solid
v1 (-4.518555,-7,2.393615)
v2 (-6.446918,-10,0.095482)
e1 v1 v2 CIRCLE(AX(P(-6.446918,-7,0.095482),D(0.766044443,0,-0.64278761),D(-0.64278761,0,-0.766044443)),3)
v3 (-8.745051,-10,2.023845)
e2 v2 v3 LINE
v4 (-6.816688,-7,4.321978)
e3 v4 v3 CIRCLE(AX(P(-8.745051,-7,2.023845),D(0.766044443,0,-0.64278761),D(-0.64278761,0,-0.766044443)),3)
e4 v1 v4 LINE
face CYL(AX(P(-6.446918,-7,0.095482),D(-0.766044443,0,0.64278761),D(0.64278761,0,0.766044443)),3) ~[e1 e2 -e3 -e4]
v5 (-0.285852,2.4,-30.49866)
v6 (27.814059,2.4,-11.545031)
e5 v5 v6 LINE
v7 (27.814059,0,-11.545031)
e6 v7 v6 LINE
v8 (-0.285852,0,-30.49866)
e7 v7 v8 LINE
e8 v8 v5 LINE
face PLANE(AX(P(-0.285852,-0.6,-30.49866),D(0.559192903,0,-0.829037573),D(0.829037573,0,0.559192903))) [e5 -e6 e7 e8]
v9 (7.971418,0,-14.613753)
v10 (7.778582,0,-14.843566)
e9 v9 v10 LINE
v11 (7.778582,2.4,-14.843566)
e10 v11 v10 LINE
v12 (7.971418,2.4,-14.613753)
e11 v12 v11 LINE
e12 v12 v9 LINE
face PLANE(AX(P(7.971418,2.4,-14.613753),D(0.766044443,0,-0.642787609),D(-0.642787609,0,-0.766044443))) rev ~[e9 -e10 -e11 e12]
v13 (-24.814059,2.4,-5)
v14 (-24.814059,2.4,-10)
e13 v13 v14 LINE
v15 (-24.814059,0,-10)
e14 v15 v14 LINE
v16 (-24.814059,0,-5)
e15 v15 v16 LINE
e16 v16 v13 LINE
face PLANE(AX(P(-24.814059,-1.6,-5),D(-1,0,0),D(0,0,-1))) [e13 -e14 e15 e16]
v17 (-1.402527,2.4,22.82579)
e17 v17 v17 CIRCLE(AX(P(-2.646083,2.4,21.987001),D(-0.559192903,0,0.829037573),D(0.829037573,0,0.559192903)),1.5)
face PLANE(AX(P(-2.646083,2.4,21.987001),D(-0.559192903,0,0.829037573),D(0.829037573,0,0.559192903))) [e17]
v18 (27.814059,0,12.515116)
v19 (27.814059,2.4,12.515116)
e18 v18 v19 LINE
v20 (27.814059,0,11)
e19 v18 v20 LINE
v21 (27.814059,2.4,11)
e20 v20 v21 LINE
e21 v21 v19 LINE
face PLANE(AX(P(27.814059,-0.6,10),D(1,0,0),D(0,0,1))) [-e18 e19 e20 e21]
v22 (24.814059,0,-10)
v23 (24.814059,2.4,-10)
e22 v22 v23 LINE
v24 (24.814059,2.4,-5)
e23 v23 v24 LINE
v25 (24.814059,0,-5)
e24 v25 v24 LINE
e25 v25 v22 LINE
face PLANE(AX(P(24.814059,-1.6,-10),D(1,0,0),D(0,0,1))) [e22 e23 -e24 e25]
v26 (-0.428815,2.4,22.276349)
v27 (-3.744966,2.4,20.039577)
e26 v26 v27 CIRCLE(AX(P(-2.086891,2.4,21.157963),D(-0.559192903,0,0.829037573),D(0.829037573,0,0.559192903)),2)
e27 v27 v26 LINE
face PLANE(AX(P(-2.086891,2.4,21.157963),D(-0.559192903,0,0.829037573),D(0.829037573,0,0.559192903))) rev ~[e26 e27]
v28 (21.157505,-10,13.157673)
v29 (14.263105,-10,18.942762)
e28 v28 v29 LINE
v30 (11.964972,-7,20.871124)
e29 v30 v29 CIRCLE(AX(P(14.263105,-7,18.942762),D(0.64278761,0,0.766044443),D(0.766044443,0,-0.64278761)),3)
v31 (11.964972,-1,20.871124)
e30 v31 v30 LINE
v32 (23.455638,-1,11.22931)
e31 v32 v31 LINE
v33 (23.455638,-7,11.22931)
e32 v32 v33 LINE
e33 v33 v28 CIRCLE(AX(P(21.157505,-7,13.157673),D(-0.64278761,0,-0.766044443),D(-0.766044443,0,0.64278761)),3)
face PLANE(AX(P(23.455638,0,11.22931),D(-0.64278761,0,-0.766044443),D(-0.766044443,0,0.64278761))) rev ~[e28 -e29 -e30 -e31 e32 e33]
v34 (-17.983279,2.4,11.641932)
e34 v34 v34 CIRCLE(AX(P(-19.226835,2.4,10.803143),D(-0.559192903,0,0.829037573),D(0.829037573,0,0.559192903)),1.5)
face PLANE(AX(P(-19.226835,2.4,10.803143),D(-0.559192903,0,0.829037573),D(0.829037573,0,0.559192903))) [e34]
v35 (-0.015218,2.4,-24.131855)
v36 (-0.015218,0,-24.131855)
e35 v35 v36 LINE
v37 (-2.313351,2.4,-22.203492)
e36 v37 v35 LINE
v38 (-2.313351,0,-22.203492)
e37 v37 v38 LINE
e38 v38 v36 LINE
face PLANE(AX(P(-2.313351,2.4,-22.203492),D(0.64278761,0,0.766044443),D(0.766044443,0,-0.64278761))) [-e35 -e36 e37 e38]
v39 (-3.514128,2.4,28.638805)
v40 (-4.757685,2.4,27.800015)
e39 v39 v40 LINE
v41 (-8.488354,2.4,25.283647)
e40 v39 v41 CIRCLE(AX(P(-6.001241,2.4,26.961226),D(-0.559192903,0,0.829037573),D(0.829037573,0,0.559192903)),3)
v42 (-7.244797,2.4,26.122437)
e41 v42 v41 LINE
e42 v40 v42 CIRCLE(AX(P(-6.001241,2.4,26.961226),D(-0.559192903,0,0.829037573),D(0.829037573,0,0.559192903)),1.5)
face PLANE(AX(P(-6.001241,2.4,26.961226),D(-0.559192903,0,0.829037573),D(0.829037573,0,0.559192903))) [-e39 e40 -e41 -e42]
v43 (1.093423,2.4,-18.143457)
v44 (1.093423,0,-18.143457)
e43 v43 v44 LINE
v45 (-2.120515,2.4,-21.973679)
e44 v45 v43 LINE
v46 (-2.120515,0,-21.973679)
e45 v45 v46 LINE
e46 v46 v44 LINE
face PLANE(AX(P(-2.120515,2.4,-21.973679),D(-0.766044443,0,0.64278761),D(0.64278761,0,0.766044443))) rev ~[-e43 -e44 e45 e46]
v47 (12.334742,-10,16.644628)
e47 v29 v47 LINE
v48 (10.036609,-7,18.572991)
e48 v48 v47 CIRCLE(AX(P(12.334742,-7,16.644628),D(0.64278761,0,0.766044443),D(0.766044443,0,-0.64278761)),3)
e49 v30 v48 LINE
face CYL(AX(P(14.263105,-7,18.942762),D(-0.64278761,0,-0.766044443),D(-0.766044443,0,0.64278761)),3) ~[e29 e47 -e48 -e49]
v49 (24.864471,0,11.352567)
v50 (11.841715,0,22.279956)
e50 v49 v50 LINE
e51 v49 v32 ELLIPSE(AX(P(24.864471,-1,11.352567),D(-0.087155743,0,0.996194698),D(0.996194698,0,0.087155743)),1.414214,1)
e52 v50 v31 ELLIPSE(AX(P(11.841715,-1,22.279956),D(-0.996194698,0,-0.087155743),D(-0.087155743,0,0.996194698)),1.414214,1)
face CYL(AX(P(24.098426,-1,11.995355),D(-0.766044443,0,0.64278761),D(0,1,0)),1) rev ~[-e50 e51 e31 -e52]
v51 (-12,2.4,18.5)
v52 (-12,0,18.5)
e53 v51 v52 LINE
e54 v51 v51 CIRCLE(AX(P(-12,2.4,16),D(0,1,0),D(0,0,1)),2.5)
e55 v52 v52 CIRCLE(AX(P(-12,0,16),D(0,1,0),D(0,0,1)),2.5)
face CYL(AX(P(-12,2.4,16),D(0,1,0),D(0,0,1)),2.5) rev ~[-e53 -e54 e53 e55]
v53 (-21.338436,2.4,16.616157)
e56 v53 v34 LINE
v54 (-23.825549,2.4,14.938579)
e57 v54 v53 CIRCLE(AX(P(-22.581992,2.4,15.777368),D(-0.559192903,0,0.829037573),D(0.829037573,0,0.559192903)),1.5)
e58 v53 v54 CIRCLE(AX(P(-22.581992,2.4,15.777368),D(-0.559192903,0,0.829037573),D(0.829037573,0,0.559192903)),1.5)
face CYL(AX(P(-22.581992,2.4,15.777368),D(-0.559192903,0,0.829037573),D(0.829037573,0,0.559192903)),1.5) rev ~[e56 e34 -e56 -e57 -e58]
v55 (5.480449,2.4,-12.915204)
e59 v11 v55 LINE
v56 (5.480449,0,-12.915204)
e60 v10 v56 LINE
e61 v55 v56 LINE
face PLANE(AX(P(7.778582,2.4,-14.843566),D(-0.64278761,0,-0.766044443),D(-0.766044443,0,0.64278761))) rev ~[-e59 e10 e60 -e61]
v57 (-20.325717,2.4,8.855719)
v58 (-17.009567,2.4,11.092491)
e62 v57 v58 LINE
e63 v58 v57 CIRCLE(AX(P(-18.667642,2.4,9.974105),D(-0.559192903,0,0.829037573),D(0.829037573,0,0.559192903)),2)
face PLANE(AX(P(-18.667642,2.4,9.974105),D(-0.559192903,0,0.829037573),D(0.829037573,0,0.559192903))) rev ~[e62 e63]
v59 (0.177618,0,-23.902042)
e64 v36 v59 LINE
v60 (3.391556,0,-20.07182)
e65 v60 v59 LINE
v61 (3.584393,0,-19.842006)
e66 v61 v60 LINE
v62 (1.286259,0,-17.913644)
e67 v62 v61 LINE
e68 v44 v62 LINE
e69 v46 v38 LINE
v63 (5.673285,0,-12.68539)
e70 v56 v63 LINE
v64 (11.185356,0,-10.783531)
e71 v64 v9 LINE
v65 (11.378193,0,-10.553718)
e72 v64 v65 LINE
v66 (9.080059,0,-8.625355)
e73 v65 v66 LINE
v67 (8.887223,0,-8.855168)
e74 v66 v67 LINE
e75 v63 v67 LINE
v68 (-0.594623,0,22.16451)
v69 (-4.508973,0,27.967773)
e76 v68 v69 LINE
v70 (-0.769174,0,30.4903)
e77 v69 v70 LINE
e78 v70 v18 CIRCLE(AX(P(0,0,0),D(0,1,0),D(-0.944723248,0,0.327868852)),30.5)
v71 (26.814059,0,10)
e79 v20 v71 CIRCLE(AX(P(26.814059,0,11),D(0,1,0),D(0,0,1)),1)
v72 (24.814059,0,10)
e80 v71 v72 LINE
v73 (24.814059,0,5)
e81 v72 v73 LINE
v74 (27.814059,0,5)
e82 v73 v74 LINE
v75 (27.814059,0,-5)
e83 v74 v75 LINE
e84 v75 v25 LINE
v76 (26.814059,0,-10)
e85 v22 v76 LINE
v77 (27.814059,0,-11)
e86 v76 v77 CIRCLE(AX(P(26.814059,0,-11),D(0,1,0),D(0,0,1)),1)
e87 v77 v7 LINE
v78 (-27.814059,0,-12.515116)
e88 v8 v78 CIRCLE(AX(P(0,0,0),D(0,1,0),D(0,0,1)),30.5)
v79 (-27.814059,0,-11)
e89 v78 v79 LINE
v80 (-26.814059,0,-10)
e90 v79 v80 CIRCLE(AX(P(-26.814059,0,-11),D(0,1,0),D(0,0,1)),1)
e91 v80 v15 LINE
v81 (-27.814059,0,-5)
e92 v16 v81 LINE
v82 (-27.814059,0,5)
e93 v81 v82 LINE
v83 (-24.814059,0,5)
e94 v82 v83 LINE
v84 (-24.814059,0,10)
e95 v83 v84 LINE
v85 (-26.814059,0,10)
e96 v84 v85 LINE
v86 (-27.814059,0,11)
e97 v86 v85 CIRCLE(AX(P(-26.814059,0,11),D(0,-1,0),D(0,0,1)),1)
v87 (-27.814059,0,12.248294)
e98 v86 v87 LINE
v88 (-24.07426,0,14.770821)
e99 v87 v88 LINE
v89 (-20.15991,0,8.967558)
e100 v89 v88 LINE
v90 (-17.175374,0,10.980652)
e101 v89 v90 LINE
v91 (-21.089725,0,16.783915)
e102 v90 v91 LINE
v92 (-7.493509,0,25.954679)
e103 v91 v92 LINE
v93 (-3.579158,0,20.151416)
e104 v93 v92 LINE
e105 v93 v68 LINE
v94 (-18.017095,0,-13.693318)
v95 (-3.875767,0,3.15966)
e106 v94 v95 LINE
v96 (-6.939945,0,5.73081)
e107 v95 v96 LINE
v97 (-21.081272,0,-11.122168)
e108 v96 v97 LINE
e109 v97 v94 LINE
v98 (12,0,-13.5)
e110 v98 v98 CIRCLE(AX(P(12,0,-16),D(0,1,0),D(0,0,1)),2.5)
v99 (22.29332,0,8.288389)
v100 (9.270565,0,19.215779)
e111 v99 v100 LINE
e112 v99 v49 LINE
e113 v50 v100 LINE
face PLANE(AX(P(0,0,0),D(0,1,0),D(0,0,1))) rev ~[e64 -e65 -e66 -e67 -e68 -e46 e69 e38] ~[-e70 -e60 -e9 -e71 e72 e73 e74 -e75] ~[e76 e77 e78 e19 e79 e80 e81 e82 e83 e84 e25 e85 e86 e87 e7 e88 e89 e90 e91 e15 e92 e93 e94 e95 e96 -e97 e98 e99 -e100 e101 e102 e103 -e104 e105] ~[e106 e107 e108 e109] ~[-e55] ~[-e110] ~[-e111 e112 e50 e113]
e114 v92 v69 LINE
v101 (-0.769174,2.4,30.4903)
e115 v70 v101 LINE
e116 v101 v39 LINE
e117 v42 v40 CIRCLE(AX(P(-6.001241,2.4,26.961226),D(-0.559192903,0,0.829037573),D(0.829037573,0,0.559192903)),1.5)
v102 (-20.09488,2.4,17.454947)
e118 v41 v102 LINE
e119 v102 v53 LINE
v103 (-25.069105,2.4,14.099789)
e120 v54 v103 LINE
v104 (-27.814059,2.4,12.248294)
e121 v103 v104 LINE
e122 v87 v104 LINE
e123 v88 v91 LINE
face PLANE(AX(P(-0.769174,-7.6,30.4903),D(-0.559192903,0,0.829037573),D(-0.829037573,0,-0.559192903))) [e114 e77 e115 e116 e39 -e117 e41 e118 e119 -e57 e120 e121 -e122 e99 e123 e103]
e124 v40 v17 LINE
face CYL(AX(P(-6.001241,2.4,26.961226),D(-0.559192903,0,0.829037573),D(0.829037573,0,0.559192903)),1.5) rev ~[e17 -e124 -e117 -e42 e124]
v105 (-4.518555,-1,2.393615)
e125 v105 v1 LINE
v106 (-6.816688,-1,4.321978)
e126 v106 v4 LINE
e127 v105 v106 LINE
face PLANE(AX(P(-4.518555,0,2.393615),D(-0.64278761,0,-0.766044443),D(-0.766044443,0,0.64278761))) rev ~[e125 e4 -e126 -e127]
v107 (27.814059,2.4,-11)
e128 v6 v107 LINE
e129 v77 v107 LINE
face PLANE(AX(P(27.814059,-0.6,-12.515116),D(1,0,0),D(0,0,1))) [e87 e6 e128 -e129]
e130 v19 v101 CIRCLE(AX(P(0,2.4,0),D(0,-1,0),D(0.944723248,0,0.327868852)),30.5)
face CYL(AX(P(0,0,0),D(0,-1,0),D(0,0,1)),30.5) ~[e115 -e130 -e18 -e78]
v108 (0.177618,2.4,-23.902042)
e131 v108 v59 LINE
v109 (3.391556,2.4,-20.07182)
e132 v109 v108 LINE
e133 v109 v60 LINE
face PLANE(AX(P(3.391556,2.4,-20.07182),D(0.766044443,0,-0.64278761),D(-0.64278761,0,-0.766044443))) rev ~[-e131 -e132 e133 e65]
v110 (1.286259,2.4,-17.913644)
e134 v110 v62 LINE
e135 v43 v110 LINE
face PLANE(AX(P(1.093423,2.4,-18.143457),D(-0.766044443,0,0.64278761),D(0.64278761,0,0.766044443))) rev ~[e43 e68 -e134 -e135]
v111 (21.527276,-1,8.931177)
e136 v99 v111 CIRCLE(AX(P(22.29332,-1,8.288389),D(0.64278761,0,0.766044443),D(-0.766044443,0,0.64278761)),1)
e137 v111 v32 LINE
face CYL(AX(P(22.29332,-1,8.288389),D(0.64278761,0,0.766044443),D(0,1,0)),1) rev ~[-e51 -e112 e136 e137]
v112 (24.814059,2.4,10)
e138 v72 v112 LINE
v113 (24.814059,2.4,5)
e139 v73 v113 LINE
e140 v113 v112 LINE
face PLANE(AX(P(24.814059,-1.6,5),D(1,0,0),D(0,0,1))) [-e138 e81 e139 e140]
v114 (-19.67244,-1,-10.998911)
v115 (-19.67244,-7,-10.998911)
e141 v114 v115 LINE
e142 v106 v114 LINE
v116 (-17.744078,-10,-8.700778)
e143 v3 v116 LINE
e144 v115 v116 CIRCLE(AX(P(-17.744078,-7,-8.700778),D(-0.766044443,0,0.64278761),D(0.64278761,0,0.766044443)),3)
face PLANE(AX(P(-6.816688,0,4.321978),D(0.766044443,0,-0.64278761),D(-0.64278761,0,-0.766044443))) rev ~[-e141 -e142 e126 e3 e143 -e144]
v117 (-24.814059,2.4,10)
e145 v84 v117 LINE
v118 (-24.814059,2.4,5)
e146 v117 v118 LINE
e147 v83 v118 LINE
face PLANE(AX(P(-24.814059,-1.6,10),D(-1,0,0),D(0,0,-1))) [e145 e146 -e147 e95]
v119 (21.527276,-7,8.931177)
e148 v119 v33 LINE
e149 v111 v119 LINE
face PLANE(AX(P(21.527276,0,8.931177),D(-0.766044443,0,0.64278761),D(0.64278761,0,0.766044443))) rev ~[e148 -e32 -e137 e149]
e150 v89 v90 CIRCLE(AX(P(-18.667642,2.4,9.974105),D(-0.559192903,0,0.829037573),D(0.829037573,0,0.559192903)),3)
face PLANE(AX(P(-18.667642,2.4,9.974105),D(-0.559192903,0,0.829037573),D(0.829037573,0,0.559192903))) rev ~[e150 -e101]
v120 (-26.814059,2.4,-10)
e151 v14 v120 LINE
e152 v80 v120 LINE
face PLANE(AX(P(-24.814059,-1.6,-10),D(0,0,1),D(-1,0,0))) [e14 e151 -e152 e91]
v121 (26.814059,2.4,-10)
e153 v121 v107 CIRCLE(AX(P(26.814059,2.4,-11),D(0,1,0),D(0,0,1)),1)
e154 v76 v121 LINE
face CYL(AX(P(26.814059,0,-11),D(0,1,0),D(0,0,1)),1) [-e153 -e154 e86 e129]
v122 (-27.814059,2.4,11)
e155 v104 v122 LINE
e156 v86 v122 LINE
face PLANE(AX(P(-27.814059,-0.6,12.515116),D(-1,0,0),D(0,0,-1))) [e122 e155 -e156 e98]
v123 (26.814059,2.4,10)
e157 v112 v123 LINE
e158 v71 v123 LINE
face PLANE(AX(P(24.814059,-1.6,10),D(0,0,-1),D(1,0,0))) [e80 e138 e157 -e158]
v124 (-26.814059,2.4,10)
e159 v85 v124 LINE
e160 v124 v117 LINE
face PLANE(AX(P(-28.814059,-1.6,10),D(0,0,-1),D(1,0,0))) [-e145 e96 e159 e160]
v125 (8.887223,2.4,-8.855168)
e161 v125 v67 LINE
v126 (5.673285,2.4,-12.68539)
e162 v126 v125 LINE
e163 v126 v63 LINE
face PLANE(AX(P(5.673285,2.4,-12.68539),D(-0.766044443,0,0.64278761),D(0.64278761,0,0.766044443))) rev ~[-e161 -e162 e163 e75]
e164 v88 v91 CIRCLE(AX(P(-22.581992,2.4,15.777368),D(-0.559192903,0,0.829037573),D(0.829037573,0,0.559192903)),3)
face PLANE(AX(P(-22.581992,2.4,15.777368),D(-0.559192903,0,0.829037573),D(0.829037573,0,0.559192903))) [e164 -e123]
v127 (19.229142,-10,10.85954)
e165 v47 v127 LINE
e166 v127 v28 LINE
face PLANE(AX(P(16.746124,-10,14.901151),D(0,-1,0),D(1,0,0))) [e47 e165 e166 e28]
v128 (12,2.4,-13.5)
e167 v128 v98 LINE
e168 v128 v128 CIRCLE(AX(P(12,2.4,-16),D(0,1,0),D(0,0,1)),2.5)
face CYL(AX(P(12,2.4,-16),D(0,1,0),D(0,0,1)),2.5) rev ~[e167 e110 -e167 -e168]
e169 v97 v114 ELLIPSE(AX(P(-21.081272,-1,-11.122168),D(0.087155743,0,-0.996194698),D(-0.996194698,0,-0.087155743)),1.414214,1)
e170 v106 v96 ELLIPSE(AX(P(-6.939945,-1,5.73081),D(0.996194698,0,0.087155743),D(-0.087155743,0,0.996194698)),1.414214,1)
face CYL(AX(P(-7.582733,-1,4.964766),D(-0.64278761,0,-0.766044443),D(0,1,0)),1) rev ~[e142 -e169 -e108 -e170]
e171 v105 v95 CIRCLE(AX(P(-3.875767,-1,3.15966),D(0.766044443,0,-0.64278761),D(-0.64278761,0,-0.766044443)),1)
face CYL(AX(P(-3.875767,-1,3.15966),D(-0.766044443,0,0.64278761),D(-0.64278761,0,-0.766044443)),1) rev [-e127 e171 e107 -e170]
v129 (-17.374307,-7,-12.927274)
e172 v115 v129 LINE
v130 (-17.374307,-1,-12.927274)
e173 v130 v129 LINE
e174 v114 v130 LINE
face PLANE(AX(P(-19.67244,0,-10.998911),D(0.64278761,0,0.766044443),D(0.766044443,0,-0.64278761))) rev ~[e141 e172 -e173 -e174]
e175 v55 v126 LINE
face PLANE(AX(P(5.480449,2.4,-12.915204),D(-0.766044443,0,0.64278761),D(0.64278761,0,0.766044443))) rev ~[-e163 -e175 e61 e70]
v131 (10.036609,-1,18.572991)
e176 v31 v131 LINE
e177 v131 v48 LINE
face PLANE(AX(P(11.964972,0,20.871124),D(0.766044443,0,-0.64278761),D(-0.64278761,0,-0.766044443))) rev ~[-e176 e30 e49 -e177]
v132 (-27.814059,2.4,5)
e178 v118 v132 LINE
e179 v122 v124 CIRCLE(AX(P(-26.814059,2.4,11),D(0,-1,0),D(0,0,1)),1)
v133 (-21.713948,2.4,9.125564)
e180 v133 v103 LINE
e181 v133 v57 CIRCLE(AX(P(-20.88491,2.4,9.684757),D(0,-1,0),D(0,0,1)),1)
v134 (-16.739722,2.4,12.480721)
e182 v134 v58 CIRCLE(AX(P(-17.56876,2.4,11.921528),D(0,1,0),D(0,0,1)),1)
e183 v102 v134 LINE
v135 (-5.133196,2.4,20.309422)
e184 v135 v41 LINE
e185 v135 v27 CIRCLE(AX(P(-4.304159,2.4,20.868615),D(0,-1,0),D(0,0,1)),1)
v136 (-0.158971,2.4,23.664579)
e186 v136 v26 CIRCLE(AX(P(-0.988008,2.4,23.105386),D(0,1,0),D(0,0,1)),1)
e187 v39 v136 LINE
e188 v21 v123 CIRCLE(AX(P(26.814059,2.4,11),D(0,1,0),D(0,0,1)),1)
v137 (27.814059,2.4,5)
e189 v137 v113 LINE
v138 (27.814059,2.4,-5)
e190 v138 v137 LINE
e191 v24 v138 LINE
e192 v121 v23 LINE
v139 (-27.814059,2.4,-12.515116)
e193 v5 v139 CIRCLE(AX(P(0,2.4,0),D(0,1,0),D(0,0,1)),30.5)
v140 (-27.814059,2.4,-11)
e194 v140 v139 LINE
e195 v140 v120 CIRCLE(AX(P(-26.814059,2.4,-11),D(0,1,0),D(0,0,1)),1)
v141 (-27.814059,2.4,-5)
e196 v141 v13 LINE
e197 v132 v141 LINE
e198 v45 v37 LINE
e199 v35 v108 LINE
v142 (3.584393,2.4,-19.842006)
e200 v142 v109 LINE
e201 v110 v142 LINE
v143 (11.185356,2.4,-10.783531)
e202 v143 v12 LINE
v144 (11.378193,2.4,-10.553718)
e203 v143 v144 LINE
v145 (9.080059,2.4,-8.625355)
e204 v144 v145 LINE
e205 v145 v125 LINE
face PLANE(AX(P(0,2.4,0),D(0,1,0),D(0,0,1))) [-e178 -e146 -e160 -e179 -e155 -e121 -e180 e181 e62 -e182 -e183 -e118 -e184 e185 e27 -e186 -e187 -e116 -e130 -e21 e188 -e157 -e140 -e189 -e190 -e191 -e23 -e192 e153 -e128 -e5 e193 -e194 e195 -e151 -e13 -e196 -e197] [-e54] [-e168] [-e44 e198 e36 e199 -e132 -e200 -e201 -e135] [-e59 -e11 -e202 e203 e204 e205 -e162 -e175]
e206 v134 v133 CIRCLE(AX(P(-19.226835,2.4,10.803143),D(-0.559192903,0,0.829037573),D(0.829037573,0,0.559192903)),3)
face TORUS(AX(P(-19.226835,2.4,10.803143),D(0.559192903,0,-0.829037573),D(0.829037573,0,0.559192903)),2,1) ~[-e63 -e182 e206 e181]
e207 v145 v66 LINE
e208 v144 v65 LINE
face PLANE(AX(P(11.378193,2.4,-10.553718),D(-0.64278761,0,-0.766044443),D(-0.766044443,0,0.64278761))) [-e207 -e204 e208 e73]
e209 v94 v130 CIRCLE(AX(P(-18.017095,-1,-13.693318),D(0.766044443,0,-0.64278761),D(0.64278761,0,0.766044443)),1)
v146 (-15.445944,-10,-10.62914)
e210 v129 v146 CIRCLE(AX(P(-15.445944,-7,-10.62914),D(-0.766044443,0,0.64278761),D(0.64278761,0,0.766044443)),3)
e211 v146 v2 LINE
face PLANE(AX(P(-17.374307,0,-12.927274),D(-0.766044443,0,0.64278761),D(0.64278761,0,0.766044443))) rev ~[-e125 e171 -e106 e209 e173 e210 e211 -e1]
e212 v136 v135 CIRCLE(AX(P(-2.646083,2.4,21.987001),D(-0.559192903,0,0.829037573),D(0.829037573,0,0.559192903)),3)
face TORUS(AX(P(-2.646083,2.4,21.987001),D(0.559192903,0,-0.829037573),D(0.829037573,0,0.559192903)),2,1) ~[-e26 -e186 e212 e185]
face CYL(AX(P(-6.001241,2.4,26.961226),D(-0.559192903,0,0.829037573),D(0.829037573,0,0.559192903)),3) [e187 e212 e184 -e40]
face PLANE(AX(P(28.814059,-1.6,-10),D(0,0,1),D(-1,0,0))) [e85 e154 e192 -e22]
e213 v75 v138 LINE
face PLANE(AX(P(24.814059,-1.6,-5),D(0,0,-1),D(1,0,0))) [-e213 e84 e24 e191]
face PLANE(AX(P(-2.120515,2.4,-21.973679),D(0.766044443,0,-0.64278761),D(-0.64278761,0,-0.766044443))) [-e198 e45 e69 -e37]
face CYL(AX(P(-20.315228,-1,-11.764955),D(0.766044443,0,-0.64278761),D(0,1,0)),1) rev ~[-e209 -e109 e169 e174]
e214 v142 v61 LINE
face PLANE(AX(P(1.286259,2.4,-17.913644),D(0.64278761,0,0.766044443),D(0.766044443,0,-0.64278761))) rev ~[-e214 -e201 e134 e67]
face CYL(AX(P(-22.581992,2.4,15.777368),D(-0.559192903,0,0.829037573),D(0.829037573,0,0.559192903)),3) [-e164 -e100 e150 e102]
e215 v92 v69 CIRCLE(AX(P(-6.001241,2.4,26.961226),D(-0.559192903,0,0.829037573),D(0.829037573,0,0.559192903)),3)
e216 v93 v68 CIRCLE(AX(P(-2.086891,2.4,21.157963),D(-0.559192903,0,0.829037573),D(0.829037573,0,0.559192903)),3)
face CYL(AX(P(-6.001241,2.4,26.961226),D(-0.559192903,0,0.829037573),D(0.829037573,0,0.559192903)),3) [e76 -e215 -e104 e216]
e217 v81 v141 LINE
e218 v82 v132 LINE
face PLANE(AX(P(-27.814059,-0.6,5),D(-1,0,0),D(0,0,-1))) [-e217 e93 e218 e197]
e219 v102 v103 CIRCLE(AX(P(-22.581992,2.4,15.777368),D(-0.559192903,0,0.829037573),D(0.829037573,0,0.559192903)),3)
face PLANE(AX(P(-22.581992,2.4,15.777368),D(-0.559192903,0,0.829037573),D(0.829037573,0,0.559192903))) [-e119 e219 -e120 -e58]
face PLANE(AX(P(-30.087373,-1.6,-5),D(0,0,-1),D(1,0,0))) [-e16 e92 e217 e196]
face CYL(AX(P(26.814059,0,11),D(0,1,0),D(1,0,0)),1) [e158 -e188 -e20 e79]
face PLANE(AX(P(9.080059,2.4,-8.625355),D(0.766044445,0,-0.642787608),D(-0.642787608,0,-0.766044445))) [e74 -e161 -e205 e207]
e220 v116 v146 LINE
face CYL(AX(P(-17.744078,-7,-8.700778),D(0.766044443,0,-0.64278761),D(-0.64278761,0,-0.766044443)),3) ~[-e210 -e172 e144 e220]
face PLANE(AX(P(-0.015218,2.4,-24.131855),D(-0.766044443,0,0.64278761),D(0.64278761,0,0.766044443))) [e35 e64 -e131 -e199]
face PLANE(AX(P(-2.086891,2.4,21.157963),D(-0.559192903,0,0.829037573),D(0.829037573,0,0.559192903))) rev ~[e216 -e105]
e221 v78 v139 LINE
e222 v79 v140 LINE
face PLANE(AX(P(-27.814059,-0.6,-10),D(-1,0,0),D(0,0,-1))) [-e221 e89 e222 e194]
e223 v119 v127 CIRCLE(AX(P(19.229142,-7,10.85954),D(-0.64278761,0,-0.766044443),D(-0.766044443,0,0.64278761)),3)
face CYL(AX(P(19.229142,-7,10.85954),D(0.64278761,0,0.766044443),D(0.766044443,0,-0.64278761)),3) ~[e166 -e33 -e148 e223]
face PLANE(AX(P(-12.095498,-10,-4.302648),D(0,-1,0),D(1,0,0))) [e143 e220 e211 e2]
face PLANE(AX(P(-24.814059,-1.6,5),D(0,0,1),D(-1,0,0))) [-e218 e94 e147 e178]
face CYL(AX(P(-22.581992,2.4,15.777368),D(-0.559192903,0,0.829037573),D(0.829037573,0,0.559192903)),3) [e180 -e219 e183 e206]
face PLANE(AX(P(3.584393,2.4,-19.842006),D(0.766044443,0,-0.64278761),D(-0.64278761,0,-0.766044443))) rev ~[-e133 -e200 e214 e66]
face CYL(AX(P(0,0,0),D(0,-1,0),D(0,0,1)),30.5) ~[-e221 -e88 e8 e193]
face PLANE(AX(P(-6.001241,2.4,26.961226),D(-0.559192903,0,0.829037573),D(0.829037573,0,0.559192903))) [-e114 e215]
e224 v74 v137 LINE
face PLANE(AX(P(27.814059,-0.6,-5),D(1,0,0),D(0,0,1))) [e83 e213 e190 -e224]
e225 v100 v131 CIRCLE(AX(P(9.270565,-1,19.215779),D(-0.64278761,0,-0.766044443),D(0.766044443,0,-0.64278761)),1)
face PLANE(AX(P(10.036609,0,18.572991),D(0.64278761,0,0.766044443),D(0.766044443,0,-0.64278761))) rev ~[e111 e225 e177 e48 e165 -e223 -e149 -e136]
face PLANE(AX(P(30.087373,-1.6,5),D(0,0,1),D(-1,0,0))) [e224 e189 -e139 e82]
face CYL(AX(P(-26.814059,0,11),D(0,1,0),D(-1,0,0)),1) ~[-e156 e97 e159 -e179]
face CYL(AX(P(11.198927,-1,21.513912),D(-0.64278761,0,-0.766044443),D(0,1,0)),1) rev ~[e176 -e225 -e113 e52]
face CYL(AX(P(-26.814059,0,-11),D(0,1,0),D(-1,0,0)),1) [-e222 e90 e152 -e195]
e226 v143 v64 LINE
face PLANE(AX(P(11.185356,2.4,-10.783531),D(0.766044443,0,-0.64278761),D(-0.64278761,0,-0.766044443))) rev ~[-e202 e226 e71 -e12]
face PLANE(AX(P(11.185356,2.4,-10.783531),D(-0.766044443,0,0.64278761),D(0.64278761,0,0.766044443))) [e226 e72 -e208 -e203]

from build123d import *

# Parameters (mm, degrees)
CROQUIS1_R              = 30.5
SALIENTE_EXTRUIR1_DEPTH = 2.4
CORTAR_EXTRUIR3_START   = -4
CORTAR_EXTRUIR3_DEPTH   = 4
CORTAR_EXTRUIR6_DEPTH   = 10
CROQUIS10_R             = 2.5
CORTAR_EXTRUIR7_DEPTH   = 10
CORTAR_EXTRUIR8_START   = -3
CORTAR_EXTRUIR8_DEPTH   = 3
SALIENTE_EXTRUIR2_DEPTH = 10
REDONDEO1_R             = 3
REDONDEO2_R             = 1
CORTAR_EXTRUIR9_START   = -3
CORTAR_EXTRUIR9_DEPTH   = 3
CORTAR_EXTRUIR10_START  = -10
CORTAR_EXTRUIR10_DEPTH  = 10
CROQUIS19_R             = 3
SALIENTE_EXTRUIR5_DEPTH = 7
CROQUIS20_R             = 1.5
CORTAR_EXTRUIR12_DEPTH  = 6
REDONDEO3_R             = 1
REDONDEO4_R             = 1
CORTAR_EXTRUIR13_DEPTH  = 3


with BuildPart() as part:
    # Croquis1 → Saliente-Extruir1 (new body)
    with BuildSketch(Plane(origin=(0, 0, 0), x_dir=(1, 0, 0), z_dir=(0, 1, 0))):
        with Locations(Location((0, 0, 0), (0, 0, 270))):
            Circle(CROQUIS1_R)
    extrude(amount=SALIENTE_EXTRUIR1_DEPTH)

    # Croquis5 → Cortar-Extruir3 (cut)
    with BuildSketch(Plane(origin=(0, 2.4, 0), x_dir=(1, 0, 0), z_dir=(0, 1, 0)).offset(CORTAR_EXTRUIR3_START)):
        with BuildLine():
            Line((28.814059068, 5), (30.087372767, 5))
            ThreePointArc((30.087372767, 5), (29.556634924, 7.526973624), (28.814059068, 10))
            Line((28.814059068, 10), (24.814059068, 10))
            Line((24.814059068, 10), (24.814059068, 5))
            Line((24.814059068, 5), (28.814059068, 5))
        make_face()
        with BuildLine():
            Line((30.087372767, -5), (28.814059068, -5))
            Line((28.814059068, -5), (24.814059068, -5))
            Line((24.814059068, -5), (24.814059068, -10))
            Line((24.814059068, -10), (28.814059068, -10))
            ThreePointArc((28.814059068, -10), (29.556634924, -7.526973624), (30.087372767, -5))
        make_face()
        with BuildLine():
            Line((-24.814059068, 5), (-24.814059068, 10))
            Line((-24.814059068, 10), (-28.814059068, 10))
            ThreePointArc((-28.814059068, 10), (-29.556634924, 7.526973624), (-30.087372767, 5))
            Line((-30.087372767, 5), (-28.814059068, 5))
            Line((-28.814059068, 5), (-24.814059068, 5))
        make_face()
        with BuildLine():
            Line((-28.814059068, -10), (-24.814059068, -10))
            Line((-24.814059068, -10), (-24.814059068, -5))
            Line((-24.814059068, -5), (-28.814059068, -5))
            Line((-28.814059068, -5), (-30.087372767, -5))
            ThreePointArc((-30.087372767, -5), (-29.556634924, -7.526973624), (-28.814059068, -10))
        make_face()
    extrude(amount=CORTAR_EXTRUIR3_DEPTH, mode=Mode.SUBTRACT)

    # Croquis9 → Cortar-Extruir6 (cut)
    with BuildSketch(Plane(origin=(0, 2.4, 0), x_dir=(1, 0, 0), z_dir=(0, 1, 0))):
        Polygon((5.673284852, 12.685390231), (8.887222901, 8.855168016), (11.18535623, 10.783530845), (7.971418181, 14.613753061), align=None)
        Polygon((-2.120514915, 21.973679104), (1.093423133, 18.143456889), (3.391556462, 20.071819718), (0.177618414, 23.902041933), align=None)
    extrude(amount=-CORTAR_EXTRUIR6_DEPTH, mode=Mode.SUBTRACT)

    # Croquis10 → Cortar-Extruir7 (cut)
    with BuildSketch(Plane(origin=(0, 2.4, 0), x_dir=(1, 0, 0), z_dir=(0, 1, 0))):
        with Locations(Location((12, 16, 0), (0, 0, 270))):
            Circle(CROQUIS10_R)
        with Locations(Location((-12, -16, 0), (0, 0, 270))):
            Circle(CROQUIS10_R)
    extrude(amount=-CORTAR_EXTRUIR7_DEPTH, mode=Mode.SUBTRACT)

    # Croquis11 → Cortar-Extruir8 (cut)
    with BuildSketch(Plane(origin=(0, 2.4, 0), x_dir=(1, 0, 0), z_dir=(0, 1, 0)).offset(CORTAR_EXTRUIR8_START)):
        with BuildLine():
            ThreePointArc((-28.814059068, -10), (-28.341972277, -11.268655974), (-27.814059068, -12.515115586))
            Line((-27.814059068, -12.515115586), (-27.814059068, -10))
            Line((-27.814059068, -10), (-28.814059068, -10))
        make_face()
        with BuildLine():
            Line((-27.814059068, -5), (-27.814059068, 5))
            Line((-27.814059068, 5), (-30.087372767, 5))
            ThreePointArc((-30.087372767, 5), (-30.5, 0), (-30.087372767, -5))
            Line((-30.087372767, -5), (-27.814059068, -5))
        make_face()
        with BuildLine():
            Line((-27.814059068, 10), (-27.814059068, 12.515115586))
            ThreePointArc((-27.814059068, 12.515115586), (-28.341972277, 11.268655974), (-28.814059068, 10))
            Line((-28.814059068, 10), (-27.814059068, 10))
        make_face()
        with BuildLine():
            Line((28.814059068, -10), (27.814059068, -10))
            Line((27.814059068, -10), (27.814059068, -12.515115586))
            ThreePointArc((27.814059068, -12.515115586), (28.341972277, -11.268655974), (28.814059068, -10))
        make_face()
        with BuildLine():
            Line((30.087372767, 5), (27.814059068, 5))
            Line((27.814059068, 5), (27.814059068, -5))
            Line((27.814059068, -5), (30.087372767, -5))
            ThreePointArc((30.087372767, -5), (30.5, 0), (30.087372767, 5))
        make_face()
        with BuildLine():
            Line((27.814059068, 12.515115586), (27.814059068, 10))
            Line((27.814059068, 10), (28.814059068, 10))
            ThreePointArc((28.814059068, 10), (28.341972277, 11.268655974), (27.814059068, 12.515115586))
        make_face()
    extrude(amount=CORTAR_EXTRUIR8_DEPTH, mode=Mode.SUBTRACT)

    # Croquis13 → Saliente-Extruir2 (add)
    with BuildSketch(Plane.XZ):
        Polygon((-6.816688183, 4.321977983), (-19.672440377, -10.99891088), (-17.374307048, -12.927273709), (-4.518554854, 2.393615154), align=None)
        Polygon((21.527275636, 8.931176939), (23.455638465, 11.229310268), (11.964971818, 20.871124414), (10.036608989, 18.572991084), align=None)
    extrude(amount=SALIENTE_EXTRUIR2_DEPTH)

    # Redondeo1
    redondeo1_edges = [part.edges().sort_by_distance(p)[0] for p in [
        (-5.667621519, -10, 3.357796568),
        (-18.523373712, -10, -11.963092294),
        (22.49145705, -10, 10.080243604),
        (11.000790403, -10, 19.722057749),
    ]]
    fillet(redondeo1_edges, radius=REDONDEO1_R)

    # Redondeo2
    redondeo2_edges = [part.edges().sort_by_distance(p)[0] for p in [
        (-5.667621519, 0, 3.357796568),
        (-13.24456428, 0, -3.338466449),
        (-18.523373712, 0, -11.963092294),
        (22.49145705, 0, 10.080243604),
        (17.710305141, 0, 16.050217341),
        (11.000790403, 0, 19.722057749),
    ]]
    fillet(redondeo2_edges, radius=REDONDEO2_R)

    # Croquis14 → Cortar-Extruir9 (cut)
    with BuildSketch(Plane(origin=(0, 2.4, 0), x_dir=(1, 0, 0), z_dir=(0, 1, 0)).offset(CORTAR_EXTRUIR9_START)):
        with BuildLine():
            Line((-0.28585192, 30.498660441), (27.814059068, 11.545031156))
            Line((27.814059068, 11.545031156), (27.814059068, 12.515115586))
            ThreePointArc((27.814059068, 12.515115586), (16.440879495, 25.689442995), (-0.28585192, 30.498660441))
        make_face()
    extrude(amount=CORTAR_EXTRUIR9_DEPTH, mode=Mode.SUBTRACT)

    # Croquis15 → Cortar-Extruir10 (cut)
    with BuildSketch(Plane(origin=(0, 2.4, 0), x_dir=(1, 0, 0), z_dir=(0, 1, 0)).offset(CORTAR_EXTRUIR10_START)):
        with BuildLine():
            Line((-27.814059068, -12.24829445), (-27.814059068, -12.515115586))
            ThreePointArc((-27.814059068, -12.515115586), (-16.882746118, -25.401237834), (-0.769174213, -30.490299622))
            Line((-0.769174213, -30.490299622), (-27.814059068, -12.24829445))
        make_face()
    extrude(amount=CORTAR_EXTRUIR10_DEPTH, mode=Mode.SUBTRACT)

    # Croquis19 → Saliente-Extruir5 (add)
    with BuildSketch(Plane(origin=(-14.375575006, 0, 21.312666404), x_dir=(0.8290375725550415, 0, 0.5591929034707471), z_dir=(-0.5591929034707471, 0, 0.8290375725550415))):
        with Locations((10.101272087, 2.4)):
            Circle(CROQUIS19_R)
        with Locations((-9.898727913, 2.4)):
            Circle(CROQUIS19_R)
    extrude(amount=-SALIENTE_EXTRUIR5_DEPTH)

    # Croquis20 → Cortar-Extruir12 (cut)
    with BuildSketch(Plane(origin=(-14.375575006, 0, 21.312666404), x_dir=(0.8290375725550415, 0, 0.5591929034707471), z_dir=(-0.5591929034707471, 0, 0.8290375725550415))):
        with Locations((10.101272087, 2.4)):
            Circle(CROQUIS20_R)
        with Locations((-9.898727913, 2.4)):
            Circle(CROQUIS20_R)
    extrude(amount=-CORTAR_EXTRUIR12_DEPTH, mode=Mode.SUBTRACT)

    # Redondeo3
    redondeo3_edges = [part.edges().sort_by_distance(p)[0] for p in [
        (-2.086890591, 5.4, 21.157963063),
        (-18.667642042, 5.4, 9.974104993),
    ]]
    fillet(redondeo3_edges, radius=REDONDEO3_R)

    # Redondeo4
    redondeo4_edges = [part.edges().sort_by_distance(p)[0] for p in [
        (-27.814059068, 1.2, 10),
        (-27.814059068, 1.2, -10),
        (27.814059068, 1.2, 10),
        (27.814059068, 1.2, -10),
    ]]
    fillet(redondeo4_edges, radius=REDONDEO4_R)

    # Croquis21 → Cortar-Extruir13 (cut)
    with BuildSketch(Plane(origin=(0, 2.4, 0), x_dir=(1, 0, 0), z_dir=(0, 1, 0))):
        Polygon((5.673284852, 12.685390231), (7.971418181, 14.613753061), (7.778581899, 14.843566393), (5.480448569, 12.915203564), align=None)
        Polygon((3.391556462, 20.071819718), (1.093423133, 18.143456889), (1.286259416, 17.913643556), (3.584392745, 19.842006385), align=None)
        Polygon((0.177618414, 23.902041933), (-2.120514915, 21.973679104), (-2.313351198, 22.203492437), (-0.015217869, 24.131855266), align=None)
        Polygon((8.887222901, 8.855168016), (11.18535623, 10.783530845), (11.378192513, 10.553717512), (9.080059183, 8.625354683), align=None)
    extrude(amount=-CORTAR_EXTRUIR13_DEPTH, mode=Mode.SUBTRACT)


solid = part.part
